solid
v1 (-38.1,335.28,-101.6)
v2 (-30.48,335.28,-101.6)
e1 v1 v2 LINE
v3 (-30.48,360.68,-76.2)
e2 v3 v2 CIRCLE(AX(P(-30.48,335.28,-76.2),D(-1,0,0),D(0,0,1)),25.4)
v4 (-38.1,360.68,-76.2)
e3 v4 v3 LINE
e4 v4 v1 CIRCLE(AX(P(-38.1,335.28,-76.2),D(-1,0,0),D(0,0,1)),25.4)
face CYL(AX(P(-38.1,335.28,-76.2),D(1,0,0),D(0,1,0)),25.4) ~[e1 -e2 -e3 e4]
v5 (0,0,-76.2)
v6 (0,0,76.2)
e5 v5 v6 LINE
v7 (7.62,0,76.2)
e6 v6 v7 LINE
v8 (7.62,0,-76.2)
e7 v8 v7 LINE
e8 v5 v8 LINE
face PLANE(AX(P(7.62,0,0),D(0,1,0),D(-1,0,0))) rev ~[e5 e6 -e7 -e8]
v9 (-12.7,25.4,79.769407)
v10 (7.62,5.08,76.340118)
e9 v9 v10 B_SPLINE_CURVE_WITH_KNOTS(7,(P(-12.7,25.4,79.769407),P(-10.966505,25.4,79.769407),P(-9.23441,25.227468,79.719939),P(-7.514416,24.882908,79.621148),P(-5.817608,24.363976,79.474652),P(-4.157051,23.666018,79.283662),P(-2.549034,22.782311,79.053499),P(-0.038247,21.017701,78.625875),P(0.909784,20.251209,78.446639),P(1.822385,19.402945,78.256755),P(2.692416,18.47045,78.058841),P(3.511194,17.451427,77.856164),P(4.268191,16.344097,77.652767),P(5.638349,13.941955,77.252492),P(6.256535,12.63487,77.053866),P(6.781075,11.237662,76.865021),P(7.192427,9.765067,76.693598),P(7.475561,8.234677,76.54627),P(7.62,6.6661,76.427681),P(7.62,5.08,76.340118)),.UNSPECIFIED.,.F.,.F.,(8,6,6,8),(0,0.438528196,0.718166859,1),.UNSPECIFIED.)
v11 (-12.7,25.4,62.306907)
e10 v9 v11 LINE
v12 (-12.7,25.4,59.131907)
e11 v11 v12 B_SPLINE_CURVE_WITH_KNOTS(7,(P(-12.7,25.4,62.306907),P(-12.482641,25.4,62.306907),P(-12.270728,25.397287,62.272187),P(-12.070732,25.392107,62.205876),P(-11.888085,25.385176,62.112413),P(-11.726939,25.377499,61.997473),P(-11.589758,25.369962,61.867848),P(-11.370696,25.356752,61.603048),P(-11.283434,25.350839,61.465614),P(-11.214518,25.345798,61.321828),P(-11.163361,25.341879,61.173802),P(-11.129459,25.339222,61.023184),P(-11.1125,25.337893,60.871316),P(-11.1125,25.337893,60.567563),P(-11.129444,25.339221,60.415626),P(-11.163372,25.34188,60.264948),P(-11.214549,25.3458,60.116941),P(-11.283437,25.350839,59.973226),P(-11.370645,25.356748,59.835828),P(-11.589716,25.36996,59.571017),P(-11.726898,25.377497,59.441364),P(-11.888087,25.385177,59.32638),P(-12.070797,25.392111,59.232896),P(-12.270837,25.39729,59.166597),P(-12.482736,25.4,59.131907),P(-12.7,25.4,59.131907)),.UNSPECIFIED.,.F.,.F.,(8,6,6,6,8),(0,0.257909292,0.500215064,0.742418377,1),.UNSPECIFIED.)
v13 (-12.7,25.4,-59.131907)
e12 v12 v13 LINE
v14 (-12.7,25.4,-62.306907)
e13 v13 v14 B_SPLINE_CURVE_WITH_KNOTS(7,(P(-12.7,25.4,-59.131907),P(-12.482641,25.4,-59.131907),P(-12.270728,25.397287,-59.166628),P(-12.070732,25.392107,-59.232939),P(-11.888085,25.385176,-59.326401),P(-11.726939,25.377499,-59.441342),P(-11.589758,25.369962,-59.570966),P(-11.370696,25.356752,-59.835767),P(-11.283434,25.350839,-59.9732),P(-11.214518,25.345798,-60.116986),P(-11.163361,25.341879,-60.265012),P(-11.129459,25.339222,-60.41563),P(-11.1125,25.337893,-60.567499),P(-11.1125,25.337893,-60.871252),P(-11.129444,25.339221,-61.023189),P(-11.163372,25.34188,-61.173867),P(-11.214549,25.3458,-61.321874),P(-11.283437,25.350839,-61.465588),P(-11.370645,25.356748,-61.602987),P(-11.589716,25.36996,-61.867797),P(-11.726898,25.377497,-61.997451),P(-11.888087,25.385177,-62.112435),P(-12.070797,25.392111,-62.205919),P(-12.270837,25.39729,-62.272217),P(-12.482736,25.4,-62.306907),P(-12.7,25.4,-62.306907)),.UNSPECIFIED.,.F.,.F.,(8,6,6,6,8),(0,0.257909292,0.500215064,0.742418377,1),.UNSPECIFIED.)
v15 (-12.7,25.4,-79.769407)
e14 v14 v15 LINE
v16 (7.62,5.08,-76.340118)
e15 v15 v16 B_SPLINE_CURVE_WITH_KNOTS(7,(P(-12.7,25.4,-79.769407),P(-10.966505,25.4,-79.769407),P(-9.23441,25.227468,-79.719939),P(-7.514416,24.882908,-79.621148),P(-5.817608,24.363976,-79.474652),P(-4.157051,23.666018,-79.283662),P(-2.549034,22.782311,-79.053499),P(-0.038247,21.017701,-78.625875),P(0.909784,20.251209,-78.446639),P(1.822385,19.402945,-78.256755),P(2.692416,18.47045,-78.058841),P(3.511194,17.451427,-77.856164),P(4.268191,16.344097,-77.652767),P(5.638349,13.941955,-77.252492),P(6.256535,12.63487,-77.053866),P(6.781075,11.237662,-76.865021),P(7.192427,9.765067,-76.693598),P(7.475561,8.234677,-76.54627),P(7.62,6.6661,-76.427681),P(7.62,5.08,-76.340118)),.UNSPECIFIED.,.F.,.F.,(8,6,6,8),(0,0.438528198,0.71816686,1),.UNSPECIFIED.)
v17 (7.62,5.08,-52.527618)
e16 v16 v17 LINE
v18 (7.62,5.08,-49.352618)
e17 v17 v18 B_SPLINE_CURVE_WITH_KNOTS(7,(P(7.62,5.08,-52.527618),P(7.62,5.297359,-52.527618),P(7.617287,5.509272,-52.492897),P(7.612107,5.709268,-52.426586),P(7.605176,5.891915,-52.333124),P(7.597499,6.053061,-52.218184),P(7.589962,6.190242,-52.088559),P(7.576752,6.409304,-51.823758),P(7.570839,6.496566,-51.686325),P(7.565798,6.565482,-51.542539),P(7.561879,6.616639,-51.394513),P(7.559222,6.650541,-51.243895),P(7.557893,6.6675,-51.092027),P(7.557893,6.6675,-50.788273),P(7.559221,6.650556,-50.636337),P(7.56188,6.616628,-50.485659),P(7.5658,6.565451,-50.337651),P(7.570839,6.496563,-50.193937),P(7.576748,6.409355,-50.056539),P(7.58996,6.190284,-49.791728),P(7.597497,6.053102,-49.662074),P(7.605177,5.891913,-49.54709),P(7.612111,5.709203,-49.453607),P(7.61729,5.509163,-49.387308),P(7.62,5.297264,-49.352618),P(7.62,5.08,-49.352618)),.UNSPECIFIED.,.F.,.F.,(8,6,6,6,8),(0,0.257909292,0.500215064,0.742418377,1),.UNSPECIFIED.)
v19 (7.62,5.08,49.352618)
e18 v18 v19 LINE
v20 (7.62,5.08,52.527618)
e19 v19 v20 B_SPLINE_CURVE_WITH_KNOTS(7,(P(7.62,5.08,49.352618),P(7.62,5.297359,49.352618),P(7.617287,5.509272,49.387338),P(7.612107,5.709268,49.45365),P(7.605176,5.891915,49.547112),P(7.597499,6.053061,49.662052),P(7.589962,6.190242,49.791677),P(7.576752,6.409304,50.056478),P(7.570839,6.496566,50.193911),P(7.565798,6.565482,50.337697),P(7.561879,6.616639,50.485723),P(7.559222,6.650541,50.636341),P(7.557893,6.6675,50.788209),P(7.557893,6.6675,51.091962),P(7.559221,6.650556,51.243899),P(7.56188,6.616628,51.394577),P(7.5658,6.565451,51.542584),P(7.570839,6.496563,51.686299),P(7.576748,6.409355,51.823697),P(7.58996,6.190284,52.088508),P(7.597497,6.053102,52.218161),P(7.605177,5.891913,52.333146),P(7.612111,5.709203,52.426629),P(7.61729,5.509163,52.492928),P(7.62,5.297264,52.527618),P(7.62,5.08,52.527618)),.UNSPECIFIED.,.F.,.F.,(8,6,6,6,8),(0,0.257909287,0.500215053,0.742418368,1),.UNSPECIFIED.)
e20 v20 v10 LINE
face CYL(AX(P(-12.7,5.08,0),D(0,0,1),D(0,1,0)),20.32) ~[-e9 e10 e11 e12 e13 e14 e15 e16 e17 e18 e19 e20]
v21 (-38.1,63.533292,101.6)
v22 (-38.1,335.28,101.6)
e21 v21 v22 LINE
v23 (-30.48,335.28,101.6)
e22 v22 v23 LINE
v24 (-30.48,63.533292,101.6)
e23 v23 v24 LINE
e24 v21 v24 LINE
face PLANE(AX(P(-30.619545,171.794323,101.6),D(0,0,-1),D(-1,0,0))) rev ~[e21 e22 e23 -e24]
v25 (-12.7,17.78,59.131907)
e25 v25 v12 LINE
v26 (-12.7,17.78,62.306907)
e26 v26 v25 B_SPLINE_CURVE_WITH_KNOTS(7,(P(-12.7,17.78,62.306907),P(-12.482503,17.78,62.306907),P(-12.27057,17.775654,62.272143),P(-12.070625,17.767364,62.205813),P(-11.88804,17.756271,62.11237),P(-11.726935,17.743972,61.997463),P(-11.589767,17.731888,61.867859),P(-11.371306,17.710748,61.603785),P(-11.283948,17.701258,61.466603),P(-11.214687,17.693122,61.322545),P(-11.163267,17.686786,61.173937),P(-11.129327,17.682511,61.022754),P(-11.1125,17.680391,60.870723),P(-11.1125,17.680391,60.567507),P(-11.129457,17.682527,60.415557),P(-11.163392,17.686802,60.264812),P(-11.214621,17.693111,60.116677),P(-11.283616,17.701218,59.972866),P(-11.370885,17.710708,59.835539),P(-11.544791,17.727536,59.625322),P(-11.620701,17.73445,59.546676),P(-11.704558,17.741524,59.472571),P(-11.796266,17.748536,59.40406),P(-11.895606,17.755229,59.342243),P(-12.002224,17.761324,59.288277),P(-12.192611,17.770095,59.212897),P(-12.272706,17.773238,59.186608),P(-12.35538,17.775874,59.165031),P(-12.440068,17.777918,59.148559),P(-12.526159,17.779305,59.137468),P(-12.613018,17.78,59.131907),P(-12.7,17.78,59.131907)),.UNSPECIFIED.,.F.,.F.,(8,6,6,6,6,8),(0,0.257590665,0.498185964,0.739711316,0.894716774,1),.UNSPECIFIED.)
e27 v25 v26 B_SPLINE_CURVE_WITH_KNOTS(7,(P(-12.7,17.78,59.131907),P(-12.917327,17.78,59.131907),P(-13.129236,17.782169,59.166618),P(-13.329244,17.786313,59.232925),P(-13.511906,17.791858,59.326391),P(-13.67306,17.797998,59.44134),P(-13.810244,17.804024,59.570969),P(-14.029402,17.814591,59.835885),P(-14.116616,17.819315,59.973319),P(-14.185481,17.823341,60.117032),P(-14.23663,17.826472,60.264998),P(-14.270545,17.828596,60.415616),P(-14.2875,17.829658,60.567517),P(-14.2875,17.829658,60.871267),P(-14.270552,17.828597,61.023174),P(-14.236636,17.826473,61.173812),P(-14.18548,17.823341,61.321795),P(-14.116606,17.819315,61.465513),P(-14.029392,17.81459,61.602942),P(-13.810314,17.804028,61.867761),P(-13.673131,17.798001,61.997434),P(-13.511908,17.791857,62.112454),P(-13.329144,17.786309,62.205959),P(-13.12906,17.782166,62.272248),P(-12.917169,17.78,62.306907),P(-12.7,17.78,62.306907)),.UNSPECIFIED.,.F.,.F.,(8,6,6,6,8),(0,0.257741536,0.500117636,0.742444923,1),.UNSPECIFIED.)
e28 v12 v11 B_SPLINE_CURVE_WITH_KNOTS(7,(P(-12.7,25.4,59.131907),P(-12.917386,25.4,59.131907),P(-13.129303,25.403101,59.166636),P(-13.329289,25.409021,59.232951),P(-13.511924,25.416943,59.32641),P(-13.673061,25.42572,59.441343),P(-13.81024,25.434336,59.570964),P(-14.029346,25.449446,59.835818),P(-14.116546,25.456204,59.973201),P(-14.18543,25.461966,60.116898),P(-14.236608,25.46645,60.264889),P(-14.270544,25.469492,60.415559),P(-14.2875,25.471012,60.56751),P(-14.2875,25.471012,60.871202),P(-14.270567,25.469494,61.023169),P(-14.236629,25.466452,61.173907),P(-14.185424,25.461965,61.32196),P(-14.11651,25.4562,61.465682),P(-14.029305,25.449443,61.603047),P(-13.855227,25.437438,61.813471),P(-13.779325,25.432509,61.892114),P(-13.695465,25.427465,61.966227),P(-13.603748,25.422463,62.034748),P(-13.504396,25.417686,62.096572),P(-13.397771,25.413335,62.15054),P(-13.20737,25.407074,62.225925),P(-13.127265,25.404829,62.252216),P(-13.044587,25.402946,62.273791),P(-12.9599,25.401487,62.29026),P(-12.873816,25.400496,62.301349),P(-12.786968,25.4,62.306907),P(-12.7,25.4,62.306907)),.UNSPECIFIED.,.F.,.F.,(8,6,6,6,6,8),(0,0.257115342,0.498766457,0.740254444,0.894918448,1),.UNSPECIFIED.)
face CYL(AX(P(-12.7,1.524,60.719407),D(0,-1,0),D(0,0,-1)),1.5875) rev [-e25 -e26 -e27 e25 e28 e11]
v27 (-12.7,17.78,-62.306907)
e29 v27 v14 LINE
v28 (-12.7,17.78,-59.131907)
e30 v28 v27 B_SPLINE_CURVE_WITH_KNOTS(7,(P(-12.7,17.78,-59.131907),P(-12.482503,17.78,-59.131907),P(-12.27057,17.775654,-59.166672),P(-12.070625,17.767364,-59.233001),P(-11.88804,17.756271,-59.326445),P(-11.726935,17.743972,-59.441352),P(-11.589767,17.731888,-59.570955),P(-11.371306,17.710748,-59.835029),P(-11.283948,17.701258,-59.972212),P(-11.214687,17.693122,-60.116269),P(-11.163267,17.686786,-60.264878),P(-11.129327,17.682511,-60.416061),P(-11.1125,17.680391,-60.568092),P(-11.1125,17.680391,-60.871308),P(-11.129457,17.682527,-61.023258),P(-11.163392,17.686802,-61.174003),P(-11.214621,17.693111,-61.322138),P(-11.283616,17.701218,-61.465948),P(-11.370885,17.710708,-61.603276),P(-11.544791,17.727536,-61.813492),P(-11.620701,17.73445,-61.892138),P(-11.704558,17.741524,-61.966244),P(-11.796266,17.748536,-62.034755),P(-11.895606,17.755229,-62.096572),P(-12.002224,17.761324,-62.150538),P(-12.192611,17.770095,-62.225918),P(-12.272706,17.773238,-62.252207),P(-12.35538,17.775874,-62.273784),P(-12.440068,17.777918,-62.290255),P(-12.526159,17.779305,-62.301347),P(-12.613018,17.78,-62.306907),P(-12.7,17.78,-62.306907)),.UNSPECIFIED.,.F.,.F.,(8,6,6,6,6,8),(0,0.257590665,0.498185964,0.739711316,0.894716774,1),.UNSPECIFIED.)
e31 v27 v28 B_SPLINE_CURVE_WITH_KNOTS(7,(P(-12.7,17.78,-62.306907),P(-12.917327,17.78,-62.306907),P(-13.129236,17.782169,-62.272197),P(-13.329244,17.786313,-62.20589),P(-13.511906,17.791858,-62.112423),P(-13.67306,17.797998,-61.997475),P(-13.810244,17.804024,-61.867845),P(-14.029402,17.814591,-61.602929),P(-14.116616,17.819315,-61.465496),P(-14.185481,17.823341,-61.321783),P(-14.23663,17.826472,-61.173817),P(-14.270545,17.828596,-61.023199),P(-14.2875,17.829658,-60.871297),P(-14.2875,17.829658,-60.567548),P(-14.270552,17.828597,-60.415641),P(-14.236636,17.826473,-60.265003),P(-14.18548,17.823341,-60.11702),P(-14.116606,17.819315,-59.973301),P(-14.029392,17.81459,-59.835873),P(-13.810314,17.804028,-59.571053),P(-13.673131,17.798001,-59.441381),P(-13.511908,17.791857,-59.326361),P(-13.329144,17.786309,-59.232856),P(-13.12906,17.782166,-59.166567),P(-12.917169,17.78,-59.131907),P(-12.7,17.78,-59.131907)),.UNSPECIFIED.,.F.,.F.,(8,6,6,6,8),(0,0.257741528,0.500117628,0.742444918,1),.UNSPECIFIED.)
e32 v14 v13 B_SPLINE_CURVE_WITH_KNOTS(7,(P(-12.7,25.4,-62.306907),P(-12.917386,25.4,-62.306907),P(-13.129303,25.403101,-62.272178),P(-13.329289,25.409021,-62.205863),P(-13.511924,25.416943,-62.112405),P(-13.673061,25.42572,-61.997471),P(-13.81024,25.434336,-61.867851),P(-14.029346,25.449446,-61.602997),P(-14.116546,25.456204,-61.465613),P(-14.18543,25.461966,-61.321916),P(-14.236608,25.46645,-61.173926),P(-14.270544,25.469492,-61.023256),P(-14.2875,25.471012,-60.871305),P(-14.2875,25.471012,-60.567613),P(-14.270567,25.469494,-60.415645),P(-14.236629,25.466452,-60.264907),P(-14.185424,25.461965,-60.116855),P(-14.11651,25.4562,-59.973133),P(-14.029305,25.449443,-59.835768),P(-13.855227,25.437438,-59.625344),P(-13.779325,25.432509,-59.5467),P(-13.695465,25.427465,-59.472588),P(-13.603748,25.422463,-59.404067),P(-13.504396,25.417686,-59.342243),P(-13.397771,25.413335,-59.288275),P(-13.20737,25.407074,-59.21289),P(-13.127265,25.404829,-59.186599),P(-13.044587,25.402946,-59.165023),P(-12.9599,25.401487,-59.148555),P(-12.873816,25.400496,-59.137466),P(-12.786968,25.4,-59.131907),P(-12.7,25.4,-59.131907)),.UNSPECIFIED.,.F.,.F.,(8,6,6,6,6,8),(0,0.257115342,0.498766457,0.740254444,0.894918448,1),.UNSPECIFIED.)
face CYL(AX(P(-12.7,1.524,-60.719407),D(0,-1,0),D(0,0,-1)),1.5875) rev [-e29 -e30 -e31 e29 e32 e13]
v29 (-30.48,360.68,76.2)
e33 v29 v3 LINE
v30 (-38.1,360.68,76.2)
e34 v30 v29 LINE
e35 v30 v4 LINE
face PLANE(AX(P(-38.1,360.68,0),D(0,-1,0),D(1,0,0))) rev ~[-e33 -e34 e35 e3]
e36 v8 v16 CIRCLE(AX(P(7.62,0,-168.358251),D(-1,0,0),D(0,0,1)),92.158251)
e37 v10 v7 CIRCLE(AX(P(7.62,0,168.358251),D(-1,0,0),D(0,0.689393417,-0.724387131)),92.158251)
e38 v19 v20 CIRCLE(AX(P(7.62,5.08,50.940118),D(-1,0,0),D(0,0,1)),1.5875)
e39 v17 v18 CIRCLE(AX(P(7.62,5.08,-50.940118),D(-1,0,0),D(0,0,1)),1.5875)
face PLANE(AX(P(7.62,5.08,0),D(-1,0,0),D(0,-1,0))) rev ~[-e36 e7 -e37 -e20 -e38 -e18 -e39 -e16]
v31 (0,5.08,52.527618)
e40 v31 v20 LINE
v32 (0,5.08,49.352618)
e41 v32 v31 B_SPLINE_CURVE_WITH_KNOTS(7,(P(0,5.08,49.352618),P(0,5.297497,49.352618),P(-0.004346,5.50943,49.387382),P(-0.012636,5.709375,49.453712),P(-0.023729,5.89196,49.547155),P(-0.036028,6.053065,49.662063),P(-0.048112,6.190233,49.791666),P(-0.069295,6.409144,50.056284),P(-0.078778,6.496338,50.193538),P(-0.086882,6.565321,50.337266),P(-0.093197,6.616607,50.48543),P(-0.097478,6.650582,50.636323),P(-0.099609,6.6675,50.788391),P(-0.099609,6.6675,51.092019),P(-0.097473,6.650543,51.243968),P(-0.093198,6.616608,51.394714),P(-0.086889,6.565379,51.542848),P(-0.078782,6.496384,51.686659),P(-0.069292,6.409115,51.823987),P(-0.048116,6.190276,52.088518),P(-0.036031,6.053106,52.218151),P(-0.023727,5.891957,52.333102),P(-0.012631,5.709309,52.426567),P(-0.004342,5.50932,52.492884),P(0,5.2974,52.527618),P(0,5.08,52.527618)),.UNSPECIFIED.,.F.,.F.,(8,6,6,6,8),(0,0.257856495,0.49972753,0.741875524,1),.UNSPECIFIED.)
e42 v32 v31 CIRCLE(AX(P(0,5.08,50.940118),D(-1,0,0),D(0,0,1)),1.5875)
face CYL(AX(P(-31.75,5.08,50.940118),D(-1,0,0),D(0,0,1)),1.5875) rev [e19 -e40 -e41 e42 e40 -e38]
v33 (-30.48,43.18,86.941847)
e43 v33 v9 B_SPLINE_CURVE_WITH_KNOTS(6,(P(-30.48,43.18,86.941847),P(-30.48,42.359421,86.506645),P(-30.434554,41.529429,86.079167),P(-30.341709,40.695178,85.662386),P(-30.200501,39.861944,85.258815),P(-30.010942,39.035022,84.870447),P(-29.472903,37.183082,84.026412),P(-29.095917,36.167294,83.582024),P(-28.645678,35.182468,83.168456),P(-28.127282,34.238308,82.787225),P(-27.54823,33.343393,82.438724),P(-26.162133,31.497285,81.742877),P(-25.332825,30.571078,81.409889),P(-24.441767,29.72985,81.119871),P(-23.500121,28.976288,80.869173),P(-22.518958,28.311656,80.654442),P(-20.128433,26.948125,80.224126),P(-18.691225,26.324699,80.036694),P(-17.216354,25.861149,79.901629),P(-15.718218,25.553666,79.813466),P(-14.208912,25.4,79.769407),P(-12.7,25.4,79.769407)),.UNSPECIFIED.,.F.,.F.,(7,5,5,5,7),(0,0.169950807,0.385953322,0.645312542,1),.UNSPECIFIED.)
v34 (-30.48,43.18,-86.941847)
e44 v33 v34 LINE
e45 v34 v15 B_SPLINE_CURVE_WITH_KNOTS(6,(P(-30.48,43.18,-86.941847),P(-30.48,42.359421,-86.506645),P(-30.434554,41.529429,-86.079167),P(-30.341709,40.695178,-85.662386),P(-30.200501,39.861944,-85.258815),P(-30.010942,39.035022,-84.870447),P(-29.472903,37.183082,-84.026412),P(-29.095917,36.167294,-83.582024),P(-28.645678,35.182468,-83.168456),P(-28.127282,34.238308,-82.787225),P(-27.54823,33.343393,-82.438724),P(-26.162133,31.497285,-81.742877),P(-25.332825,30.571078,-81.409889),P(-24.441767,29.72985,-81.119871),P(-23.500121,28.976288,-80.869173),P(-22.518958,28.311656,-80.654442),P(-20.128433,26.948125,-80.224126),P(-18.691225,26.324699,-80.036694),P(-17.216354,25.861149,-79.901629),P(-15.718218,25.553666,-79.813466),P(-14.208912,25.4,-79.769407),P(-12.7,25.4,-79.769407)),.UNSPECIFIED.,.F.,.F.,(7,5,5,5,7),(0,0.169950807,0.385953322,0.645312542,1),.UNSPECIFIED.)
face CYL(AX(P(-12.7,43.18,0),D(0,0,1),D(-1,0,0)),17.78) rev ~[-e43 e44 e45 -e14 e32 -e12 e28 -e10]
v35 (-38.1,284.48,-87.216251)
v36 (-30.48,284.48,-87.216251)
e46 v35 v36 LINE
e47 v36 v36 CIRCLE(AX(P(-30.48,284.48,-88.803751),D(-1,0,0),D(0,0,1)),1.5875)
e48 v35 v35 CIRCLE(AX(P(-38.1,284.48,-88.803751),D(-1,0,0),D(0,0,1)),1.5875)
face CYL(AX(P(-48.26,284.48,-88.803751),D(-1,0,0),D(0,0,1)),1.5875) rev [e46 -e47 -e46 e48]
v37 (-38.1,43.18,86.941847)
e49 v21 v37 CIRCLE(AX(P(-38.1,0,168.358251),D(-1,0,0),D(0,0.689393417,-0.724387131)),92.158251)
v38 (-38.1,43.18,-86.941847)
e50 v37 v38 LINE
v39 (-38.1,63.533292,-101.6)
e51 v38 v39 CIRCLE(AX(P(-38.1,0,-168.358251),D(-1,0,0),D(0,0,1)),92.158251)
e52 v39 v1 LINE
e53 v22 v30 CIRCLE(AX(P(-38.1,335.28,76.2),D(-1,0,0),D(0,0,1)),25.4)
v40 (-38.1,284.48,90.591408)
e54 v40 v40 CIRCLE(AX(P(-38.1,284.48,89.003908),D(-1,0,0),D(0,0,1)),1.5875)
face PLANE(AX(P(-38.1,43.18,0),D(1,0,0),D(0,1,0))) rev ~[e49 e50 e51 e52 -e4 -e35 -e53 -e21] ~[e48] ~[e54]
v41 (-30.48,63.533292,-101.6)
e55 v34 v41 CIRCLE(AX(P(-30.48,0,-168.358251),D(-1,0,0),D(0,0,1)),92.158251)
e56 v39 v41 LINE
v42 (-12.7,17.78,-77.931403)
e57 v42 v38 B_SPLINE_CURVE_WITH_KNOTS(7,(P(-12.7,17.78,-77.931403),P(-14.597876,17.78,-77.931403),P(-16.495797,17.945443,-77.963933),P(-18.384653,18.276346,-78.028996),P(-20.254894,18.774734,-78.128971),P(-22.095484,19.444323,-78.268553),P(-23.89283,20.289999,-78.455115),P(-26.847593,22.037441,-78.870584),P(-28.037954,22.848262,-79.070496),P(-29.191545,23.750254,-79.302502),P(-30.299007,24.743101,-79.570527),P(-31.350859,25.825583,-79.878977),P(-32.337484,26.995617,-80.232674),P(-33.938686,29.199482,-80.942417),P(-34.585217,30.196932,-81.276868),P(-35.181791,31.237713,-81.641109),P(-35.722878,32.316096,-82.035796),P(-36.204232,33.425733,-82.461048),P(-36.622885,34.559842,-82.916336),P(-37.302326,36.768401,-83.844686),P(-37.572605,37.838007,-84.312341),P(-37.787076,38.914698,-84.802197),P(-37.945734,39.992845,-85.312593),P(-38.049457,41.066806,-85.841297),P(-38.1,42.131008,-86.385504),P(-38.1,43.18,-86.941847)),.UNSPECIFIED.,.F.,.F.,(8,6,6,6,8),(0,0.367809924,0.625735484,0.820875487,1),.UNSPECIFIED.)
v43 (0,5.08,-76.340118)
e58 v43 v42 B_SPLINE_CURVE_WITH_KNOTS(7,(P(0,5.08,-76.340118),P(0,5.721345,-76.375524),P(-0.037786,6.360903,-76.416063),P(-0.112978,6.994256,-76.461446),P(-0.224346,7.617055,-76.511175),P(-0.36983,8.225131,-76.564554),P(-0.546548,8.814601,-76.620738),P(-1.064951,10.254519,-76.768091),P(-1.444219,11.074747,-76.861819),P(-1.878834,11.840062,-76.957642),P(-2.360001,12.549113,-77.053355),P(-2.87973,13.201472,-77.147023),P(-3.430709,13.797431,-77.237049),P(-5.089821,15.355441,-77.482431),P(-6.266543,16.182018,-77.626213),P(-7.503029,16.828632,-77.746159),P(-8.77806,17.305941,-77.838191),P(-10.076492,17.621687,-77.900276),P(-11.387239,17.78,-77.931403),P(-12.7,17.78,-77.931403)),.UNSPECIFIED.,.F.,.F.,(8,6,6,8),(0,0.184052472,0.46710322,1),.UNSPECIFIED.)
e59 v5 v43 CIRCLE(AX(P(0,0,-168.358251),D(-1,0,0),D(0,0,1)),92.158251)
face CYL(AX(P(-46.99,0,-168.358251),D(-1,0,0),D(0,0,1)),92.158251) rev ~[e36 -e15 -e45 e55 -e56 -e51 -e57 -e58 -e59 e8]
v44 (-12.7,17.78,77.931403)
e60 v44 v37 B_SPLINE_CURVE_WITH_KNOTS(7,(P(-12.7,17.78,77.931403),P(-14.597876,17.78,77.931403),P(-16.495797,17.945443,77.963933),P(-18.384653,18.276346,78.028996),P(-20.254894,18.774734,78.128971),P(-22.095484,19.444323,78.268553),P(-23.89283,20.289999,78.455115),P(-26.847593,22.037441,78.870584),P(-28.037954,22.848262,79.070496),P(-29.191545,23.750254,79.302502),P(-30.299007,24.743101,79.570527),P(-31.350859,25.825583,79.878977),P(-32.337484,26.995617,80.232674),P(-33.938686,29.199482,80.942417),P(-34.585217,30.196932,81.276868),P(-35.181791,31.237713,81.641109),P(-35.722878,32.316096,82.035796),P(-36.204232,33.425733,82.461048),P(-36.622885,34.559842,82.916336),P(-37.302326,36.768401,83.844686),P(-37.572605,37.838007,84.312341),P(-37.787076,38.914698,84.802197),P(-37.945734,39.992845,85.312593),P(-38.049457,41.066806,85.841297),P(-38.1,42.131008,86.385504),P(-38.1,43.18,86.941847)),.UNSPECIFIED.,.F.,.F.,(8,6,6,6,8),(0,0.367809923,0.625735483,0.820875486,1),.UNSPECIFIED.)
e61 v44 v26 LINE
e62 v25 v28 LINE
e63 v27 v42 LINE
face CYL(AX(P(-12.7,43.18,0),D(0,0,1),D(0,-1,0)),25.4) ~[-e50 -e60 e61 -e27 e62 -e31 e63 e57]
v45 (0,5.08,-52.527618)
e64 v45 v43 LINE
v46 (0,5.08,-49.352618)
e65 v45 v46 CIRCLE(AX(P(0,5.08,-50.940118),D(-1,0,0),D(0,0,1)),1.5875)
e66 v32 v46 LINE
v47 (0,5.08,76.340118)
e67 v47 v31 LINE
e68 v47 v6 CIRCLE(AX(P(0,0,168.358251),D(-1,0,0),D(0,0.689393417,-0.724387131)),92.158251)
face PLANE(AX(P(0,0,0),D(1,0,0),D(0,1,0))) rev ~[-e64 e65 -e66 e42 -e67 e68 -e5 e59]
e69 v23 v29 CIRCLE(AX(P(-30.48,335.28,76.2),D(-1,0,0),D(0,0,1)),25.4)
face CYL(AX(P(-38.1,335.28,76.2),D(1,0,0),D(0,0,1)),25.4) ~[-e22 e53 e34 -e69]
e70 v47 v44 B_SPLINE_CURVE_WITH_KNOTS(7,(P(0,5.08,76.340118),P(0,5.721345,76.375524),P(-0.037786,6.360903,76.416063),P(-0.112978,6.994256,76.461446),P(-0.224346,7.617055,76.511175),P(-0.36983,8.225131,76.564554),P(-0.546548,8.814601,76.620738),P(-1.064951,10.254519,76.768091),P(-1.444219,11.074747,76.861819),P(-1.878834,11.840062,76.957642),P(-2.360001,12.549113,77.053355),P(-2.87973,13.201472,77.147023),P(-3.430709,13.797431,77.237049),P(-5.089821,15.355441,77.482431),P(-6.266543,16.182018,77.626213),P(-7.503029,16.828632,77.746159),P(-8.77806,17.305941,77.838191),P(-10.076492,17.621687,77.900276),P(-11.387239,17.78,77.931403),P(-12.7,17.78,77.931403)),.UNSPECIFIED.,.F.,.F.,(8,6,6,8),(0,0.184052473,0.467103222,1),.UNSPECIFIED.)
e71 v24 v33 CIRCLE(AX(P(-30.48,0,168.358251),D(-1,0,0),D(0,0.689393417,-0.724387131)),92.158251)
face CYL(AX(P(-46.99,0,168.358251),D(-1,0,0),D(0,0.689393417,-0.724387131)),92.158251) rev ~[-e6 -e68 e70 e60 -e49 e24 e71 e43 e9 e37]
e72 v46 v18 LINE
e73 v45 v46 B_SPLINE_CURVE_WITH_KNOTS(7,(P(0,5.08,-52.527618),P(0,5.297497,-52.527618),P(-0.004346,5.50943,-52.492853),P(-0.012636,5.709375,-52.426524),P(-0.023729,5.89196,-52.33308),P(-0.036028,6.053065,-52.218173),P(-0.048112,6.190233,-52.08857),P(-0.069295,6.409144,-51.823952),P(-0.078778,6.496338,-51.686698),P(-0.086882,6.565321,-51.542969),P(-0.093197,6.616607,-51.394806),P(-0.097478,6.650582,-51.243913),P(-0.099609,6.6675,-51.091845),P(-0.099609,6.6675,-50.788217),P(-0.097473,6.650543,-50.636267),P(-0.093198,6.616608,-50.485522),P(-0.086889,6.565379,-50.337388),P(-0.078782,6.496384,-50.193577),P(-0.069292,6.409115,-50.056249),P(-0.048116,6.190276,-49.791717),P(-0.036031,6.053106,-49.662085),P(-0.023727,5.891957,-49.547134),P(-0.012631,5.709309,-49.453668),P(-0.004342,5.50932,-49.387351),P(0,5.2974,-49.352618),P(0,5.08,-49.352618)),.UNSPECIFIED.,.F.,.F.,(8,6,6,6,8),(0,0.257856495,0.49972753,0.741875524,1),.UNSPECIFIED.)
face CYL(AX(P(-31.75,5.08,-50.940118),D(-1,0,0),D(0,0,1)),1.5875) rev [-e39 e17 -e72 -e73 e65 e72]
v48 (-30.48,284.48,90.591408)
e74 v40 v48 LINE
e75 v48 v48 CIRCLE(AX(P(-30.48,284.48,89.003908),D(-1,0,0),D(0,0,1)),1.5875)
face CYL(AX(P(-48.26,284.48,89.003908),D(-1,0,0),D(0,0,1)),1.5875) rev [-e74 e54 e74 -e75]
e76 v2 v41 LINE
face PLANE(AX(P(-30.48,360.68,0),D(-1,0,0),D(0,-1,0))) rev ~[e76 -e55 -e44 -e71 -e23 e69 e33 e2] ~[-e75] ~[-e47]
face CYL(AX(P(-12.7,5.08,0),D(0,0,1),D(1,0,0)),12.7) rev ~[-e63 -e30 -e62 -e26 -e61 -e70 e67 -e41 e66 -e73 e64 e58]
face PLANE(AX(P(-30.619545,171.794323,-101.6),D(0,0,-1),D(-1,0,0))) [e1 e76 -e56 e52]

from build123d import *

# Parameters (mm, degrees)
EXTRUDE_THIN1_DEPTH     = 101.6
FILLET1_R               = 25.4
FILLET2_R               = 25.4
CUT_EXTRUDE1_DEPTH      = 10.922
CUT_EXTRUDE1_DEPTH_BACK = 54.61
CUT_EXTRUDE2_DEPTH      = 14.224
CUT_EXTRUDE2_DEPTH_BACK = 17.78
SKETCH4_R               = 1.5875
CUT_EXTRUDE3_DEPTH      = 14.732
CUT_EXTRUDE3_DEPTH_BACK = 23.876
SKETCH5_R               = 1.5875
CUT_EXTRUDE5_DEPTH      = 15.24
CUT_EXTRUDE5_DEPTH_BACK = 39.37
SKETCH6_R               = 1.5875


with BuildPart() as part:
    # Sketch1 → Extrude-Thin1 (new, symmetric)
    with BuildSketch(Plane.XY):
        with BuildLine():
            Line((0, 0), (0, 5.08))
            ThreePointArc((0, 5.08), (-3.719743879, 14.060256121), (-12.7, 17.78))
            ThreePointArc((-12.7, 17.78), (-30.660512242, 25.219487758), (-38.1, 43.18))
            Line((-38.1, 43.18), (-38.1, 360.68))
            Line((-38.1, 360.68), (-30.48, 360.68))
            Line((-30.48, 360.68), (-30.48, 43.18))
            ThreePointArc((-30.48, 43.18), (-25.272358569, 30.607641431), (-12.7, 25.4))
            ThreePointArc((-12.7, 25.4), (1.668409794, 19.448409794), (7.62, 5.08))
            Line((7.62, 5.08), (7.62, 0))
            Line((7.62, 0), (0, 0))
        make_face()
    extrude(amount=EXTRUDE_THIN1_DEPTH, both=True)

    # Fillet1
    fillet1_edges = [part.edges().sort_by_distance(p)[0] for p in [
        (-34.29, 360.68, 101.6),
    ]]
    fillet(fillet1_edges, radius=FILLET1_R)

    # Fillet2
    fillet2_edges = [part.edges().sort_by_distance(p)[0] for p in [
        (-34.29, 360.68, -101.6),
    ]]
    fillet(fillet2_edges, radius=FILLET2_R)

    # Sketch3 → Cut-Extrude1 (cut, two sides: drawn at the far end of the back side and taken through both)
    with BuildSketch(Plane(origin=(7.62, 0, 0), x_dir=(0, 0, -1), z_dir=(1, 0, 0)).offset(-CUT_EXTRUDE1_DEPTH_BACK)):
        with BuildLine():
            Line((-101.6, 0), (-101.6, 63.533291796))
            ThreePointArc((-101.6, 63.533291796), (-82.785279567, 34.211252412), (-76.2, 0))
            Line((-76.2, 0), (-101.6, 0))
        make_face()
        with BuildLine():
            Line((101.6, 0), (76.2, 0))
            ThreePointArc((76.2, 0), (82.785279567, 34.211252412), (101.6, 63.533291796))
            Line((101.6, 63.533291796), (101.6, 0))
        make_face()
    extrude(amount=CUT_EXTRUDE1_DEPTH + CUT_EXTRUDE1_DEPTH_BACK, mode=Mode.SUBTRACT)

    # Sketch4 → Cut-Extrude2 (cut, two sides: drawn at the far end of the back side and taken through both)
    with BuildSketch(Plane(origin=(-30.48, 0, 0), x_dir=(0, 0, -1), z_dir=(1, 0, 0)).offset(-CUT_EXTRUDE2_DEPTH_BACK)):
        with Locations(Location((-89.003908419, 284.48, 0), (0, 0, 180))):
            Circle(SKETCH4_R)
        with Locations(Location((88.803751124, 284.48, 0), (0, 0, 180))):
            Circle(SKETCH4_R)
    extrude(amount=CUT_EXTRUDE2_DEPTH + CUT_EXTRUDE2_DEPTH_BACK, mode=Mode.SUBTRACT)

    # Sketch5 → Cut-Extrude3 (cut, two sides: drawn at the far end of the back side and taken through both)
    with BuildSketch(Plane(origin=(0, 25.4, 0), x_dir=(1, 0, 0), z_dir=(0, 1, 0)).offset(-CUT_EXTRUDE3_DEPTH_BACK)):
        with Locations(Location((-12.7, -60.719407292, 0), (0, 0, 90))):
            Circle(SKETCH5_R)
        with Locations(Location((-12.7, 60.719407292, 0), (0, 0, 90))):
            Circle(SKETCH5_R)
    extrude(amount=CUT_EXTRUDE3_DEPTH + CUT_EXTRUDE3_DEPTH_BACK, mode=Mode.SUBTRACT)

    # Sketch6 → Cut-Extrude5 (cut, two sides: drawn at the far end of the back side and taken through both)
    with BuildSketch(Plane(origin=(7.62, 0, 0), x_dir=(0, 0, -1), z_dir=(1, 0, 0)).offset(-CUT_EXTRUDE5_DEPTH_BACK)):
        with Locations(Location((-50.940117855, 5.08, 0), (0, 0, 180))):
            Circle(SKETCH6_R)
        with Locations(Location((50.940117855, 5.08, 0), (0, 0, 180))):
            Circle(SKETCH6_R)
    extrude(amount=CUT_EXTRUDE5_DEPTH + CUT_EXTRUDE5_DEPTH_BACK, mode=Mode.SUBTRACT)


solid = part.part
